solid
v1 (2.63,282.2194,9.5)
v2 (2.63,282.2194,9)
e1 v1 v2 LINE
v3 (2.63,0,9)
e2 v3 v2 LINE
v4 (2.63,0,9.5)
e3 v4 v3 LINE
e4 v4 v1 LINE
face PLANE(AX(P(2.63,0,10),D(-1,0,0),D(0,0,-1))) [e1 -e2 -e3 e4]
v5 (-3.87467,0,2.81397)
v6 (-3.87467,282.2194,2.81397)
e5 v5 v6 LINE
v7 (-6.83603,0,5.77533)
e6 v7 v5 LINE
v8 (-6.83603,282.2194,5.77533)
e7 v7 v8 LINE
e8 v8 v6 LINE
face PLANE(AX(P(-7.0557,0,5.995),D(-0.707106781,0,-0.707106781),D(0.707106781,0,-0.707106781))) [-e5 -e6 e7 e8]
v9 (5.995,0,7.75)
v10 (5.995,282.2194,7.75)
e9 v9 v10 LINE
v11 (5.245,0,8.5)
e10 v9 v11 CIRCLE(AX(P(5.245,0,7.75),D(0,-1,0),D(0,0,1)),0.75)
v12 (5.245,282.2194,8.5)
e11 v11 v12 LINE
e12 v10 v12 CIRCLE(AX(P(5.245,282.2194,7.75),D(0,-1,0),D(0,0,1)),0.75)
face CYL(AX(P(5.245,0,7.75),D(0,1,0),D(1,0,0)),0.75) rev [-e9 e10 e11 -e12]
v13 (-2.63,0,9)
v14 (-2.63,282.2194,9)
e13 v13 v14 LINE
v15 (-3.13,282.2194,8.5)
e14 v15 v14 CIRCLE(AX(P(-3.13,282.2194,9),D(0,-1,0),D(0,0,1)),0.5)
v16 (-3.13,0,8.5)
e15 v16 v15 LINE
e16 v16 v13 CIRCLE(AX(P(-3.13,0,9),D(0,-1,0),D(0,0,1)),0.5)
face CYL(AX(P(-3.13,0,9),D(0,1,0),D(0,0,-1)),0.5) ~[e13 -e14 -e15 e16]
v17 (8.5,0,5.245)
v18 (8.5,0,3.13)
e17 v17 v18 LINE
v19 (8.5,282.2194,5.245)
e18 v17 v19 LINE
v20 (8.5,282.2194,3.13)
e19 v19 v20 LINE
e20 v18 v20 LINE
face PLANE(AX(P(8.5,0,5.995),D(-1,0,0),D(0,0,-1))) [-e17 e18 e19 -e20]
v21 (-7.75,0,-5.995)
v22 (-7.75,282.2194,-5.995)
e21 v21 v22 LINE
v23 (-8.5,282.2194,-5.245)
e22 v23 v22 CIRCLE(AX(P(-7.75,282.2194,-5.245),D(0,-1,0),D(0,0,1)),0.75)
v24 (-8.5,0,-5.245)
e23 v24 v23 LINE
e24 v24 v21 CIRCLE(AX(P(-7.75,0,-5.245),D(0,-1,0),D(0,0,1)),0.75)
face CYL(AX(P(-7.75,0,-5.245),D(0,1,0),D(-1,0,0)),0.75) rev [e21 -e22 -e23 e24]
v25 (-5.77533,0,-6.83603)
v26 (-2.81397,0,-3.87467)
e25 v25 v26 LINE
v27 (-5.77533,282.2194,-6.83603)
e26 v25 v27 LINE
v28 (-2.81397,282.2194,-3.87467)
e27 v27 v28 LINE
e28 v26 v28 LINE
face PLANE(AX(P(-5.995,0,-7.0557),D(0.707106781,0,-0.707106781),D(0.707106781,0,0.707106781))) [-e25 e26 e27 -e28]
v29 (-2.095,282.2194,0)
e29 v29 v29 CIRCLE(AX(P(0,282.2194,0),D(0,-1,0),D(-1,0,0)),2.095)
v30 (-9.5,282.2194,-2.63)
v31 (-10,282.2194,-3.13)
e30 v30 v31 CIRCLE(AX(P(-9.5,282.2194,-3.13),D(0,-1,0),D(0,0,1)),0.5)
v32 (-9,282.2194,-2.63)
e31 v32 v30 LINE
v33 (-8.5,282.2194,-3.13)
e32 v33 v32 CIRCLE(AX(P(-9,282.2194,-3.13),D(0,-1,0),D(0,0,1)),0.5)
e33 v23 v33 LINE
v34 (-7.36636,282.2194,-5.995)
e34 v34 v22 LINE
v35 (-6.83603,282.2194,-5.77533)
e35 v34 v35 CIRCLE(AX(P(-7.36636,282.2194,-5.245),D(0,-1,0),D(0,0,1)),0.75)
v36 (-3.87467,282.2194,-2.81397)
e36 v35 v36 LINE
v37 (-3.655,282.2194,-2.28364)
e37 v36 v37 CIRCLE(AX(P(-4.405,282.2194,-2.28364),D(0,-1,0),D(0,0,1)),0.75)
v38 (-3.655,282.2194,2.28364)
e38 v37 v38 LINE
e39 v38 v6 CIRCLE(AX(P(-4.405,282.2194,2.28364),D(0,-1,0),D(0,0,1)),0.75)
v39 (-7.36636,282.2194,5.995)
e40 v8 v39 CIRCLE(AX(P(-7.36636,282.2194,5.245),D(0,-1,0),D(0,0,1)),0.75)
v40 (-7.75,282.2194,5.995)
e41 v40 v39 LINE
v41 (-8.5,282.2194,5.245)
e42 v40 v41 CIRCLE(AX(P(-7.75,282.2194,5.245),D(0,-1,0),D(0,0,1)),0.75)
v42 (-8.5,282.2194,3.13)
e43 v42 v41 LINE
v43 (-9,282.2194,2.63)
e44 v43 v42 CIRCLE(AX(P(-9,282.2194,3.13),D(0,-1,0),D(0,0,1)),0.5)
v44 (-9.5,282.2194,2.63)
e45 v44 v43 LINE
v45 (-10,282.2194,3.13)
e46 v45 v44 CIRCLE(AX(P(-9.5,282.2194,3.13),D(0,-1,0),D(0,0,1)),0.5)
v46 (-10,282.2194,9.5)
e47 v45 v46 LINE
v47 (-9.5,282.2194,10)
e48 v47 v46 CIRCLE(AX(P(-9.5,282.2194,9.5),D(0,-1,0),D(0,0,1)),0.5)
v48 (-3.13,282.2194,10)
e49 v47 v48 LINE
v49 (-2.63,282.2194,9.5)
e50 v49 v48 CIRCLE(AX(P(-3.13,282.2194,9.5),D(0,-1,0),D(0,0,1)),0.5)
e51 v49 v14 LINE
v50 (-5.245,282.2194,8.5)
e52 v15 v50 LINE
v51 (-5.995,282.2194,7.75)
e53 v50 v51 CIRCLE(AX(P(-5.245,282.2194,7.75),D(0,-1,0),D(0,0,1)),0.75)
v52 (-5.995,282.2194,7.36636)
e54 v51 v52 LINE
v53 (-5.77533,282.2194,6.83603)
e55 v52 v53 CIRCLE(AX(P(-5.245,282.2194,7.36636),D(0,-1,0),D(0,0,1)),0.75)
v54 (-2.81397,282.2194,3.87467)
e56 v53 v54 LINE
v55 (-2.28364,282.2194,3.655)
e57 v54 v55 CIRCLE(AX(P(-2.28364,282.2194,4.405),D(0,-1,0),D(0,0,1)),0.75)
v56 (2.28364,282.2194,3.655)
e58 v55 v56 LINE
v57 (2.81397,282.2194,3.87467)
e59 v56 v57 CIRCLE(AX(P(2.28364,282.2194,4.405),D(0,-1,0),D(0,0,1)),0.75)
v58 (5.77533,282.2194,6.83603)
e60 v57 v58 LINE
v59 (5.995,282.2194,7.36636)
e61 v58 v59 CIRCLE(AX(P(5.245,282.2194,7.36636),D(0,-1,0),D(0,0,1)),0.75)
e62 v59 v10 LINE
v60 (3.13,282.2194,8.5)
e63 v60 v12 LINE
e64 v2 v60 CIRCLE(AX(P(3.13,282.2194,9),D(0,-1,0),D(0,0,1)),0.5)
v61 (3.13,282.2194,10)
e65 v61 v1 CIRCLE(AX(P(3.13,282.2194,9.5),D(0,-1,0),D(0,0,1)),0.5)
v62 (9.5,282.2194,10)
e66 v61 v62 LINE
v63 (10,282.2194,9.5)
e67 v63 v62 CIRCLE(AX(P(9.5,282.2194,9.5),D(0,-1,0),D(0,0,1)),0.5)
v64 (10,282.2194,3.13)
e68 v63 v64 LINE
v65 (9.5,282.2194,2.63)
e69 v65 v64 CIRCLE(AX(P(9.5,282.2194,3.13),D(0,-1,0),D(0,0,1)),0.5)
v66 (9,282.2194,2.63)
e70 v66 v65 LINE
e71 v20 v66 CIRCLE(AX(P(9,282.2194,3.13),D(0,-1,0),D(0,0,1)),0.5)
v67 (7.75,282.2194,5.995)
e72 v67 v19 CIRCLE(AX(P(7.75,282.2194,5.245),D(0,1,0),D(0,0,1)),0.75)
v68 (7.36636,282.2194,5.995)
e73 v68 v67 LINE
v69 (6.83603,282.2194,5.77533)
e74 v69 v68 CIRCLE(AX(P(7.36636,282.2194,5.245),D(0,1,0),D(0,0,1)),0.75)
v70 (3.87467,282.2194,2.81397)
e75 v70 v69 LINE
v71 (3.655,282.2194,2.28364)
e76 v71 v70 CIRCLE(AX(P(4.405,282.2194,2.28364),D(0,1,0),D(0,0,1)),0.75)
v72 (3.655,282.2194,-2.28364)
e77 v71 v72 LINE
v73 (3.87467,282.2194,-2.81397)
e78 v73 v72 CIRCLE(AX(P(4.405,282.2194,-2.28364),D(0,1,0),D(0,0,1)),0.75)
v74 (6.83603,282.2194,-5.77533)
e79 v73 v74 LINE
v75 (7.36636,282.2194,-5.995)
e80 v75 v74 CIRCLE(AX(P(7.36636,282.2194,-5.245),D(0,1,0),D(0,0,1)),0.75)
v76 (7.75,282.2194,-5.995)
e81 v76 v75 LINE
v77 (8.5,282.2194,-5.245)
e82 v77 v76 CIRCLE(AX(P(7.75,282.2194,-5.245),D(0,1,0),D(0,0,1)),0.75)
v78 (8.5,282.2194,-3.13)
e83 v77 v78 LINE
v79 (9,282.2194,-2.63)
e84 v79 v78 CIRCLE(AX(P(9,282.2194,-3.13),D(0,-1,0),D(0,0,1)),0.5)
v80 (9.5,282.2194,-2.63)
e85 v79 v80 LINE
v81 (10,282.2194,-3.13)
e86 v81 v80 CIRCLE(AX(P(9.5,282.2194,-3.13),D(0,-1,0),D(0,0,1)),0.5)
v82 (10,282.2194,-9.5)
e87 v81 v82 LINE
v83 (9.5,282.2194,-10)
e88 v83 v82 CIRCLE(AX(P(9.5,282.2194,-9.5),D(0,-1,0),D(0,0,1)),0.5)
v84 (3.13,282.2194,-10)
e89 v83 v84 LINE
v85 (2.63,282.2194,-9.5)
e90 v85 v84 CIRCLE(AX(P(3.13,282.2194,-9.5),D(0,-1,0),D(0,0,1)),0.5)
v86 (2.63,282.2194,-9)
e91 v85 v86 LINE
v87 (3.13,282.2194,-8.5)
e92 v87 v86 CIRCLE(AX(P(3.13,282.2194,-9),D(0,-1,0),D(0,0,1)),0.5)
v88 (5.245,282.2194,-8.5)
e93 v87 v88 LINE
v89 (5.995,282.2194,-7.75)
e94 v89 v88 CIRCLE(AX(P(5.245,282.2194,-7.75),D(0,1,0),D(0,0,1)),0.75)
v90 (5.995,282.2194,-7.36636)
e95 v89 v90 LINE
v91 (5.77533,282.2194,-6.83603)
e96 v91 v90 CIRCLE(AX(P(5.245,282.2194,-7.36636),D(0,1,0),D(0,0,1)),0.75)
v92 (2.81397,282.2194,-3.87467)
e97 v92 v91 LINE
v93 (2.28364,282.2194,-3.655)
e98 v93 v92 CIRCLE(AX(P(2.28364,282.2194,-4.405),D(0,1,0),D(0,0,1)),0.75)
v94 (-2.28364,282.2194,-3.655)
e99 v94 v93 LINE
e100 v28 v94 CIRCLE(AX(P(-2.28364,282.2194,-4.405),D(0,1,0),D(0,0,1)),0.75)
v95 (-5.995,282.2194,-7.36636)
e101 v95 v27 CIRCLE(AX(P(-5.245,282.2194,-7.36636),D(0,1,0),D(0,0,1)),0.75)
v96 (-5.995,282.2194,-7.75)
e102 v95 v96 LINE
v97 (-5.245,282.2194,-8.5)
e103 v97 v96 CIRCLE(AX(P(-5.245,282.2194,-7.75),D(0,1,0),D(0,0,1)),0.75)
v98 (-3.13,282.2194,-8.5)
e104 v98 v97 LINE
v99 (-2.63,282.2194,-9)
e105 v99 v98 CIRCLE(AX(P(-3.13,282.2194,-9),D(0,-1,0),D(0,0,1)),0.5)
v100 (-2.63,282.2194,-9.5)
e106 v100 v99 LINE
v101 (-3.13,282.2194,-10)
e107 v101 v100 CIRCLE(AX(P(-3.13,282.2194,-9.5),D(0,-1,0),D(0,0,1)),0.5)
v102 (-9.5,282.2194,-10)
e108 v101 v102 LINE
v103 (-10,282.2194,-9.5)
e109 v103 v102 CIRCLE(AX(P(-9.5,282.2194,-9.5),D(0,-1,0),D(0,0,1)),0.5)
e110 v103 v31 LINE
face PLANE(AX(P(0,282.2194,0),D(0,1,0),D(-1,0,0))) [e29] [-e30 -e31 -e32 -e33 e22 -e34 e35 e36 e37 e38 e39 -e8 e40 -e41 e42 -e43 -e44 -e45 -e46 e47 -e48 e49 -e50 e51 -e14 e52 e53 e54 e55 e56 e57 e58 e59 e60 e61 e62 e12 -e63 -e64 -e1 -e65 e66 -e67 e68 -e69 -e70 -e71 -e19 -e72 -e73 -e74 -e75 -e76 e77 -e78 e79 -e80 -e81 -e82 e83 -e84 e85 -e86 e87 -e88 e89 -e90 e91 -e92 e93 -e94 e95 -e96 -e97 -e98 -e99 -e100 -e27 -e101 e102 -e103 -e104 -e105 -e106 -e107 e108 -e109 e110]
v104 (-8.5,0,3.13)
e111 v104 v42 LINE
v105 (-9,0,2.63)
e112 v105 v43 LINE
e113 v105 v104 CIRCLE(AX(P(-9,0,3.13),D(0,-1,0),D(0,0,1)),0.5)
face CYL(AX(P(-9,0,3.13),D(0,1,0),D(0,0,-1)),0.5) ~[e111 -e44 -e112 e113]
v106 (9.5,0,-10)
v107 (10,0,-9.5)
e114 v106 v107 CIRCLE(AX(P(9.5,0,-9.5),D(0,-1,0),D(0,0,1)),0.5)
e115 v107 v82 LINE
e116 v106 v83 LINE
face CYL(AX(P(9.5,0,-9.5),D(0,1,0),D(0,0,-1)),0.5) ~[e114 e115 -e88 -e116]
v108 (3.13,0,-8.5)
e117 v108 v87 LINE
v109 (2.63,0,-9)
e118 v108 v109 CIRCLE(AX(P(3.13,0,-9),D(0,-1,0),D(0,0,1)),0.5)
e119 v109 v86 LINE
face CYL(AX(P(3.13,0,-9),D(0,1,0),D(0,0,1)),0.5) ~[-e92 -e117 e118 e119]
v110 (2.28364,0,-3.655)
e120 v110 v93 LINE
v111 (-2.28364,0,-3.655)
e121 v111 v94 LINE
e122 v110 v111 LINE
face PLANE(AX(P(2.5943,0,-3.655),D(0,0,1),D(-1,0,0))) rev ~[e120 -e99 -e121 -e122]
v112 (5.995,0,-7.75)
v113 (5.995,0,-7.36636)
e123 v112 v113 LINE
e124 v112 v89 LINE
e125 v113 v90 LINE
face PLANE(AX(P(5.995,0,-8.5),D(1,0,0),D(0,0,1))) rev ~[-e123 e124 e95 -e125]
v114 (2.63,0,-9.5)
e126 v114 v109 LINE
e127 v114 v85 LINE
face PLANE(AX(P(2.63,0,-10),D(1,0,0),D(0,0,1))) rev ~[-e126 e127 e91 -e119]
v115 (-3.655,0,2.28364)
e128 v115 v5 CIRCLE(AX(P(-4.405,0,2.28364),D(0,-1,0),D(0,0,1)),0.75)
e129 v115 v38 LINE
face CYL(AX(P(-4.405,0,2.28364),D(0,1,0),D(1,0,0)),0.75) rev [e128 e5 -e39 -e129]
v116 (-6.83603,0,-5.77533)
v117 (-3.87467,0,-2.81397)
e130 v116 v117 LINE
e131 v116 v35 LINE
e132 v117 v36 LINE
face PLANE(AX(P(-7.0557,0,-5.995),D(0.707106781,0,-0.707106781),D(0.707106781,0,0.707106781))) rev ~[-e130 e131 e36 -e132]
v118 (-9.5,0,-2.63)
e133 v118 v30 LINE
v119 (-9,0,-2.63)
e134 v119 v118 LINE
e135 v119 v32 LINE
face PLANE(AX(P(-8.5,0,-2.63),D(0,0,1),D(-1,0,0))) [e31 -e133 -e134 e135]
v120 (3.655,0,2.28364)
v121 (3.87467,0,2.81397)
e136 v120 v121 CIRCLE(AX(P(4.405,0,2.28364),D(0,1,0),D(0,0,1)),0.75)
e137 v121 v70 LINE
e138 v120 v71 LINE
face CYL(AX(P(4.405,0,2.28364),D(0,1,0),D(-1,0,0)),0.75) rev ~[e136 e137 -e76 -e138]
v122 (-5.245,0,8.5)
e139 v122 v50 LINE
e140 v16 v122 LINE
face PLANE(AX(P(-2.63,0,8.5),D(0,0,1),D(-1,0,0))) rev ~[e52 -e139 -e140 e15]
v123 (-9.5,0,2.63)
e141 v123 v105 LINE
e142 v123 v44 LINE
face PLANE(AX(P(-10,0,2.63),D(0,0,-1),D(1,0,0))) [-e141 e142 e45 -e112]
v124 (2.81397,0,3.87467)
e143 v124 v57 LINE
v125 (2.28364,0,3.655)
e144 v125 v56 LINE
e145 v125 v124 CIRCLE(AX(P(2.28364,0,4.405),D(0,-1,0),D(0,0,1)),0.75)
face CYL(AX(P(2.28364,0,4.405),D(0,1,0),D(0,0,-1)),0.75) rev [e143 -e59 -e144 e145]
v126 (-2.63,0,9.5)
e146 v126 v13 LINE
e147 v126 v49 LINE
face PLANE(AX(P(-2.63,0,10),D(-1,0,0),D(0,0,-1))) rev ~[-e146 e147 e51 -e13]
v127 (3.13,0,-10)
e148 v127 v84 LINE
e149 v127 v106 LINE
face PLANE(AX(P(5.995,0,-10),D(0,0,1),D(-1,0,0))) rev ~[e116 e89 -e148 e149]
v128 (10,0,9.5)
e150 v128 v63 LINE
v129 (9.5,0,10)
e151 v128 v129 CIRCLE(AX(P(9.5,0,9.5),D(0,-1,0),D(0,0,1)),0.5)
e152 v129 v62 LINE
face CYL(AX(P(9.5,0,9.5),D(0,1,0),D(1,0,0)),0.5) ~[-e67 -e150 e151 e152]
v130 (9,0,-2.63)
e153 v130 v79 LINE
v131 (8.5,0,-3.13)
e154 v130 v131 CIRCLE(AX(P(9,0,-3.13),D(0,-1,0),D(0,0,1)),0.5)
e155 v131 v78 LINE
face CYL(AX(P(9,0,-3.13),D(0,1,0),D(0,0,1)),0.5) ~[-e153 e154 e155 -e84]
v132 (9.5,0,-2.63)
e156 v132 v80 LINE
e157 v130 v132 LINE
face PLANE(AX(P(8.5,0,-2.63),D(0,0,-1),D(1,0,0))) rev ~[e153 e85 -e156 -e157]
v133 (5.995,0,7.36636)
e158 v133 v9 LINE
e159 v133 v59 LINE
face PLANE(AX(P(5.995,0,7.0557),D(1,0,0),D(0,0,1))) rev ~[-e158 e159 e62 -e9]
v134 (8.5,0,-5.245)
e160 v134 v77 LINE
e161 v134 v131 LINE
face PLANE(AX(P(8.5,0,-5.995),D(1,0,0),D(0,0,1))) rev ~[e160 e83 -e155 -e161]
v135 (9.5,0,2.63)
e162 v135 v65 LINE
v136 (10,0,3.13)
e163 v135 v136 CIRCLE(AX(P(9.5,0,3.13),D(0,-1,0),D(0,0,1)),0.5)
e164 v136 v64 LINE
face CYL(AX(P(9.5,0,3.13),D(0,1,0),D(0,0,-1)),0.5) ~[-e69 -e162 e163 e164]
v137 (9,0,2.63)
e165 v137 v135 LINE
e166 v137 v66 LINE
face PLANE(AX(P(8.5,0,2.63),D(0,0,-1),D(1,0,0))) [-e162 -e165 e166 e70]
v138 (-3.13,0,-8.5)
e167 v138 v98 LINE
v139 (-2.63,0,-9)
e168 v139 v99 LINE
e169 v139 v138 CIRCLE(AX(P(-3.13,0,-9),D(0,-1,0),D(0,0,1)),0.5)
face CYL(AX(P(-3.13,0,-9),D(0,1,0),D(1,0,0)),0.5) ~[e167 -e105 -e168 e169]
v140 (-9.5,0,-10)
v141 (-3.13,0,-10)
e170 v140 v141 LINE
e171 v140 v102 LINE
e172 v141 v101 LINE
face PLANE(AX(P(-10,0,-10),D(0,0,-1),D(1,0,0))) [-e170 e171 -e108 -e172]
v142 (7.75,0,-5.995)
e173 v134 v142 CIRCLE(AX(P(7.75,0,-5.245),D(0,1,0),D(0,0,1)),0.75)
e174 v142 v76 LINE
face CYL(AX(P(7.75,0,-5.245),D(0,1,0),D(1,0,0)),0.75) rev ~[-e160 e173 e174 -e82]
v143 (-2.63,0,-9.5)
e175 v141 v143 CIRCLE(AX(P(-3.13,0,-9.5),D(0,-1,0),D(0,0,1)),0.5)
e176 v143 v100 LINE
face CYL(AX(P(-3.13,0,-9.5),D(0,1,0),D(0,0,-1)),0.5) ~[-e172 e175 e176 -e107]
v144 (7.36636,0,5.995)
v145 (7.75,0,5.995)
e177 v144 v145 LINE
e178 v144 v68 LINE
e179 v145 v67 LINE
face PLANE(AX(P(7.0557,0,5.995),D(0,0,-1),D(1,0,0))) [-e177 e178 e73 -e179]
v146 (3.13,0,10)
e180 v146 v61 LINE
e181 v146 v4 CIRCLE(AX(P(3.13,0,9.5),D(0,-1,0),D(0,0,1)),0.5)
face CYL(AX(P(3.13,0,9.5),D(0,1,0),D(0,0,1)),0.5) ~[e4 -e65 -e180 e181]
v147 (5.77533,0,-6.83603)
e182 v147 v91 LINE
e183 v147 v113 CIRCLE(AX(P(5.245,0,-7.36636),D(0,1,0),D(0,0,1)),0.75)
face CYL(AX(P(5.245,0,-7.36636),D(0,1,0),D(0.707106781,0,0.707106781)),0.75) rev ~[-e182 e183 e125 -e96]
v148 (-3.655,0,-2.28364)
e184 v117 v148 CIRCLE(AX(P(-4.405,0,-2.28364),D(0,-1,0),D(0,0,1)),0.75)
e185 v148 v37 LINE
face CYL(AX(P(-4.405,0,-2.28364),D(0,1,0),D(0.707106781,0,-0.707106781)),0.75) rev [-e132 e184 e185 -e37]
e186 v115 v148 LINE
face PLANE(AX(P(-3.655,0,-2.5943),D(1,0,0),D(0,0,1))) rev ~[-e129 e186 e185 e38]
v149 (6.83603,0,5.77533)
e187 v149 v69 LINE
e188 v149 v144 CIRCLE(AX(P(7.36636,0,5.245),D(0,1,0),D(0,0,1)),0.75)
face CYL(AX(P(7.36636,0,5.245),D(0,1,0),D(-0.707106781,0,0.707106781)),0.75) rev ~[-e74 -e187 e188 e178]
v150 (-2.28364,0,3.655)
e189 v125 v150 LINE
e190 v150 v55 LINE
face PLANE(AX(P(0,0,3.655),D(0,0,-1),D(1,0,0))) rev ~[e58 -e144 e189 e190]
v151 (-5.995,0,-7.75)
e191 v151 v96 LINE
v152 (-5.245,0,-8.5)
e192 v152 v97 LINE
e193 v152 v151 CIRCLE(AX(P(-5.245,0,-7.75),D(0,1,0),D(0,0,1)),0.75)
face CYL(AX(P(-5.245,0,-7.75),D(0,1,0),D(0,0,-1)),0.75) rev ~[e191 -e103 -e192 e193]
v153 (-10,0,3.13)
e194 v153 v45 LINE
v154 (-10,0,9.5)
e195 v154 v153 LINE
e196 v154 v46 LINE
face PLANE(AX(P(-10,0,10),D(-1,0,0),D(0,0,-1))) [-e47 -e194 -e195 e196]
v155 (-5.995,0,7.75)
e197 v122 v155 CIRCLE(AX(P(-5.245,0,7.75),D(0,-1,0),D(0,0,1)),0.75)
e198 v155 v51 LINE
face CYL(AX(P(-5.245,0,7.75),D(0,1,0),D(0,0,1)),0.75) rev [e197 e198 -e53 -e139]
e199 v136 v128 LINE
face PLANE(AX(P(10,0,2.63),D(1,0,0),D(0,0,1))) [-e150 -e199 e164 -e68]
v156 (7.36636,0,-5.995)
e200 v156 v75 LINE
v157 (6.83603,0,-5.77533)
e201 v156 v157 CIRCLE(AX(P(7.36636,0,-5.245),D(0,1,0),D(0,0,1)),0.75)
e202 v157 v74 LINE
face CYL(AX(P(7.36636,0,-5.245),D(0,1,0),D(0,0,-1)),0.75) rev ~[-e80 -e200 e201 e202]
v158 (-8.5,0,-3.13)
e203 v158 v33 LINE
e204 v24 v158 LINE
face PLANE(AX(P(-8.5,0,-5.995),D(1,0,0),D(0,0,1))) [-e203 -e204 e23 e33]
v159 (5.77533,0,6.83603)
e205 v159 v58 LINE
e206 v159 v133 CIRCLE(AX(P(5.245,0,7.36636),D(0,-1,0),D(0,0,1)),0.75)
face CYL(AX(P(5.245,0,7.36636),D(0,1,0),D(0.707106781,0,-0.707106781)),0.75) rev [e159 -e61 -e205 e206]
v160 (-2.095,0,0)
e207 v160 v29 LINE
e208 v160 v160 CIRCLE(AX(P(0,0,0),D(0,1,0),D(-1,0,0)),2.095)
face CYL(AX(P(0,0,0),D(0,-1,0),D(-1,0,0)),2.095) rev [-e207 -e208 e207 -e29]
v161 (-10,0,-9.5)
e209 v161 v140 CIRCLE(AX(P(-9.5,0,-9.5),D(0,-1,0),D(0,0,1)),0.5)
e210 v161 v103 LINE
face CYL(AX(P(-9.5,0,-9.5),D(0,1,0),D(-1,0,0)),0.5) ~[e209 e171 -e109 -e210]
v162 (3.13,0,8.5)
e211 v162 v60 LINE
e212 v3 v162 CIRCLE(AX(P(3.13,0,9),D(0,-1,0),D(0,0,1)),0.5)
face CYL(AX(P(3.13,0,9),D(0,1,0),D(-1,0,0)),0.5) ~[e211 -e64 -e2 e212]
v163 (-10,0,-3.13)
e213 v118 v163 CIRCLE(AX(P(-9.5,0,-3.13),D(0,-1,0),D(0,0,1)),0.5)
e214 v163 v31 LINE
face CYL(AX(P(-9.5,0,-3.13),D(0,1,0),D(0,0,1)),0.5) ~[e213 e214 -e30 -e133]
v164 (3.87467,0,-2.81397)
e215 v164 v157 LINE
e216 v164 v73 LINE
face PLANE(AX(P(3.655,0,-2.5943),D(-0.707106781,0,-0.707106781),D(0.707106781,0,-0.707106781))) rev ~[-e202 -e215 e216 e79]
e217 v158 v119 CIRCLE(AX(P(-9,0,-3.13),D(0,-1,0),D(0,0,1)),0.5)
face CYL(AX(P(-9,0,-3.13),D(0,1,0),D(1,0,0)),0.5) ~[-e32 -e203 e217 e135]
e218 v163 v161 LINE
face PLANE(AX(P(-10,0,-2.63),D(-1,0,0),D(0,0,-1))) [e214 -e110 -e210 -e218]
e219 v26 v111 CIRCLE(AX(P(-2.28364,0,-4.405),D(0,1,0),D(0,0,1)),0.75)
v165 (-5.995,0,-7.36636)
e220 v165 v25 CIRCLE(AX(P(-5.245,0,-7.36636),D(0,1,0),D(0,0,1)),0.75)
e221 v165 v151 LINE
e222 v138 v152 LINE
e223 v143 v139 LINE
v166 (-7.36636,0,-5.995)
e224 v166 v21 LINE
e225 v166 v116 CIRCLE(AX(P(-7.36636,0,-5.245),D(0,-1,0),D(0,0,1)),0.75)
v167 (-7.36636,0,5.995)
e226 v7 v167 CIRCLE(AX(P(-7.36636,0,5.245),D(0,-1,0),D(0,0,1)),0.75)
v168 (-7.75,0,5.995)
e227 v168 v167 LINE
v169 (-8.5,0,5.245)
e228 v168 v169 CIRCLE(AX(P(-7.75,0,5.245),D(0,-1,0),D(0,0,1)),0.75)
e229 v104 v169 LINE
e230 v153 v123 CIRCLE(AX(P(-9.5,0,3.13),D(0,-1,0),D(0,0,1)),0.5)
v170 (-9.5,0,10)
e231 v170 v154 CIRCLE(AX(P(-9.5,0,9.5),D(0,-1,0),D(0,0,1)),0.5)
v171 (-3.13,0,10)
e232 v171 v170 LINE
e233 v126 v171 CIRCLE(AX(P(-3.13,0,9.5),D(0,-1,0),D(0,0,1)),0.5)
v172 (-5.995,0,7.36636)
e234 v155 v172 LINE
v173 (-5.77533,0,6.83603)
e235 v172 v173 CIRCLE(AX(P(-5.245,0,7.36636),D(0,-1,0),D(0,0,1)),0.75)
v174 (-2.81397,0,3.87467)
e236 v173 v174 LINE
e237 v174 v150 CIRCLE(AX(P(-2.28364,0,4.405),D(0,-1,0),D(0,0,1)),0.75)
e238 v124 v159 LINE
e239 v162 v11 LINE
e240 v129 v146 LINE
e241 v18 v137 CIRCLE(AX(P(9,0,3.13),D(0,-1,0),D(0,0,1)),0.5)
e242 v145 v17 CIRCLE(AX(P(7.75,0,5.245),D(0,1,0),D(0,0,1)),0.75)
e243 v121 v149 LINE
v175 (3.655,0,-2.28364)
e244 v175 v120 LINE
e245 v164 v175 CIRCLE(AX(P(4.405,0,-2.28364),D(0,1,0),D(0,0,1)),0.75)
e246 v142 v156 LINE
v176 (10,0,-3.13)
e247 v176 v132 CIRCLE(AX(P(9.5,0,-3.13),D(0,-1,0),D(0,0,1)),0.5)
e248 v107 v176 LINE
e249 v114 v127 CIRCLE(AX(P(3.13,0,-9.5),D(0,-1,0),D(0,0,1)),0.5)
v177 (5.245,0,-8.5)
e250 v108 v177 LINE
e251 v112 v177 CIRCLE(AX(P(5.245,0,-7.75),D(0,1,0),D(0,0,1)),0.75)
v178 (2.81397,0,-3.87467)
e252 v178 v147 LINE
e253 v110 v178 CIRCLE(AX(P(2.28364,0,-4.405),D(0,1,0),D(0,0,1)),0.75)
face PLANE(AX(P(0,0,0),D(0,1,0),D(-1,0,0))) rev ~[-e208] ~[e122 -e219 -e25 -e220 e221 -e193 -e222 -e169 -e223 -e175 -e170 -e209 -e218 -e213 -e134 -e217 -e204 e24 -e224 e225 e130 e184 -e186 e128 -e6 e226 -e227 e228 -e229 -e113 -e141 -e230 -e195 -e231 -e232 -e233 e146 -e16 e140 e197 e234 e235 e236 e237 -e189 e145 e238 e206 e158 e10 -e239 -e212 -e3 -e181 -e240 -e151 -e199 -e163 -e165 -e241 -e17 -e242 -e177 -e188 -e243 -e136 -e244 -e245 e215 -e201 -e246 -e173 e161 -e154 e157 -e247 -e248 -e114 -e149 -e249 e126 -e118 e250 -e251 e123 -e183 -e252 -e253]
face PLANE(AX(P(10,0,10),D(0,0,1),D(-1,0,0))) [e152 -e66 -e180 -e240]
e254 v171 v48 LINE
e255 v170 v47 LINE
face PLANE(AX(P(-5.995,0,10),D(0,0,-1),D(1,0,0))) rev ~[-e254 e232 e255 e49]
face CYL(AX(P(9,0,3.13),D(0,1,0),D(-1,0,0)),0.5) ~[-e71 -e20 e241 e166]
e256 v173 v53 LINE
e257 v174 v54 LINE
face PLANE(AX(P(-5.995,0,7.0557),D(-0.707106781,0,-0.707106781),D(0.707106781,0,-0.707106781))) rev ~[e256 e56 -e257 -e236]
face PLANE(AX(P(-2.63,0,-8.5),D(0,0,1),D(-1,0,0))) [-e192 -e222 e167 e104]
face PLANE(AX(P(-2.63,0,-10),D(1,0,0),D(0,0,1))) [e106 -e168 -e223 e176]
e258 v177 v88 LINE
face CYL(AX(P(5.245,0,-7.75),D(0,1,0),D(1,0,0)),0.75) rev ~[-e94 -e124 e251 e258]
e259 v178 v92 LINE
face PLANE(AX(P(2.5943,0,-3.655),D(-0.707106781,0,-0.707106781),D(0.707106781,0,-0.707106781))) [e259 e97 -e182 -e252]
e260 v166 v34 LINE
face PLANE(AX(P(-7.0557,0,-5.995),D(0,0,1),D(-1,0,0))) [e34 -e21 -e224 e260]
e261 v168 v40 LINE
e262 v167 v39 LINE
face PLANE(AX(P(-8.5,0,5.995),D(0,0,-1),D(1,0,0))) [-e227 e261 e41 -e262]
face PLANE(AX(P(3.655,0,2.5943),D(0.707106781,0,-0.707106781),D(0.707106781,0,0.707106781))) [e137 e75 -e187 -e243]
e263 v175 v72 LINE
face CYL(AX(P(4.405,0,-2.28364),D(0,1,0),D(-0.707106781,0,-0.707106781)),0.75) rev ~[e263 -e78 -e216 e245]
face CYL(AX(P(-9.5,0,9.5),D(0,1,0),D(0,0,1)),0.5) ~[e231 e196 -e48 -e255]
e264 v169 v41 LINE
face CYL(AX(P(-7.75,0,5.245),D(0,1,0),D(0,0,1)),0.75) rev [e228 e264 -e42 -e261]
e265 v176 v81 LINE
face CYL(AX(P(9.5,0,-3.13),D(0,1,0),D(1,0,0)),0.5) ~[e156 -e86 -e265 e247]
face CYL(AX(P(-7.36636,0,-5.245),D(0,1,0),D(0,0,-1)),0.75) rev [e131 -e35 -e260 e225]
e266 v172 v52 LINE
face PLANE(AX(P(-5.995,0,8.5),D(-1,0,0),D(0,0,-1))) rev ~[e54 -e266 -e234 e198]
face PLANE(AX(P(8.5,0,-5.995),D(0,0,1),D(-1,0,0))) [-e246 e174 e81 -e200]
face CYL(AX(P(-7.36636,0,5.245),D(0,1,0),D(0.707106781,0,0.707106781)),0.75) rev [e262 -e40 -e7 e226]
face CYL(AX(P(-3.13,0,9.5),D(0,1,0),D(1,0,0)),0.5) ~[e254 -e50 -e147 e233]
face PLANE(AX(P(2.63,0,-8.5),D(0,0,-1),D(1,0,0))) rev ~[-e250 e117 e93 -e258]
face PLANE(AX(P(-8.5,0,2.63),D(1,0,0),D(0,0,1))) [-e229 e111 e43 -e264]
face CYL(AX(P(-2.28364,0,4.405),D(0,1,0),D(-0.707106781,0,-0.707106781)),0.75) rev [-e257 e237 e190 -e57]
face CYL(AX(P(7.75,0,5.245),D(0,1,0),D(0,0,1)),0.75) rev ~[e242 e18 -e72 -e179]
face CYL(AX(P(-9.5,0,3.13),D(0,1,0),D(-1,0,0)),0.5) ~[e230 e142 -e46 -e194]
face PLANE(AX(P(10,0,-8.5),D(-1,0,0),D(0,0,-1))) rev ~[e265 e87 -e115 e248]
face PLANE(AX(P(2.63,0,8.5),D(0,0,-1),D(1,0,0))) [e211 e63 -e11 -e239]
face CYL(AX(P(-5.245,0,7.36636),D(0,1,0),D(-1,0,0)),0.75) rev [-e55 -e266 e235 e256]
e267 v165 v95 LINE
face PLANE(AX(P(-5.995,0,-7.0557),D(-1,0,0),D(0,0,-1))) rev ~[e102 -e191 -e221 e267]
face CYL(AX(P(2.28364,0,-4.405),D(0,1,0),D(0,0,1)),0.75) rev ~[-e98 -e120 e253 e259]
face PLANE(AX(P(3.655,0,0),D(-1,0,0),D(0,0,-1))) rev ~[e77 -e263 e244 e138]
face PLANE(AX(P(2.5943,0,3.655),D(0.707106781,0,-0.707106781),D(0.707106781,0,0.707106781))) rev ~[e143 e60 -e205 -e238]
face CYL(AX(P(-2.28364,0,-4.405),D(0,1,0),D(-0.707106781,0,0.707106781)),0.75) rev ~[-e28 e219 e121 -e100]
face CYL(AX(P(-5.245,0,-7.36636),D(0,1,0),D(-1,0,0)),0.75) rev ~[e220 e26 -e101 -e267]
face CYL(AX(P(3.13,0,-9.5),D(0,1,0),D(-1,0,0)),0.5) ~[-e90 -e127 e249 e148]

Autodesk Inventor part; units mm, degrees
ref_plane "YZ Plane" through (0, 0, 0) normal (1, 0, 0) x (0, 1, 0)
ref_plane "XZ Plane" through (0, 0, 0) normal (0, 1, 0) x (-1, 0, 0)
ref_plane "XY Plane" through (0, 0, 0) normal (0, 0, 1) x (1, 0, 0)
sketch "Sketch1" plane through (0, 0, 0) normal (0, 1, 0) x (-1, 0, 0)
  line L0 (0, -14) -> (0, 14) projected
  line L1 (-14, 0) -> (14, 0) projected
  line L2 (14, 0) -> (-14, 0) projected
  line L3 (0, -14) -> (0, 14) projected
  line L4 (2.5943, 3.655) -> (-2.5943, 3.655)
  line L5 (-3.655, 2.5943) -> (-3.655, -2.5943)
  line L6 (-2.5943, -3.655) -> (2.5943, -3.655)
  line L7 (3.655, -2.5943) -> (3.655, 2.5943)
  line L8 (-3.655, 3.655) -> (3.655, -3.655) construction
  line L9 (10, 10) -> (10, 2.63)
  line L10 (10, 2.63) -> (8.5, 2.63)
  line L11 (10, 10) -> (2.63, 10)
  line L12 (2.63, 10) -> (2.63, 8.5)
  line L13 (-10, 10) -> (-2.63, 10)
  line L14 (-2.63, 10) -> (-2.63, 8.5)
  line L15 (-10, 8.5) -> (-10, 10)
  line L16 (-10, 10) -> (-8.5, 10)
  line L17 (-8.5, 2.63) -> (-10, 2.63)
  line L18 (-10, 2.63) -> (-10, 10)
  line L19 (-10, -10) -> (-8.5, -10)
  line L20 (-8.5, -2.63) -> (-10, -2.63)
  line L21 (-10, -2.63) -> (-10, -10)
  line L22 (-10, -10) -> (-2.63, -10)
  line L23 (-2.63, -10) -> (-2.63, -8.5)
  line L24 (-10, -8.5) -> (-10, -10)
  line L25 (10, -10) -> (8.5, -10)
  line L26 (8.5, -2.63) -> (10, -2.63)
  line L27 (10, -2.63) -> (10, -10)
  line L28 (10, -10) -> (2.63, -10)
  line L29 (2.63, -10) -> (2.63, -8.5)
  line L30 (10, -8.5) -> (10, -10)
  circle A0 centre (0, 0) radius 2.095
  line L31 (5.995, -10) -> (2.63, -10)
  line L32 (-2.63, -10) -> (-5.995, -10)
  line L33 (10, -10) -> (2.63, -10)
  line L34 (-2.63, -10) -> (-10, -10)
  line L35 (10, -5.995) -> (10, -2.63)
  line L36 (10, 2.63) -> (10, 5.995)
  line L37 (10, 10) -> (10, 2.63)
  line L38 (10, -2.63) -> (10, -10)
  line L39 (-5.995, 10) -> (-2.63, 10)
  line L40 (2.63, 10) -> (5.995, 10)
  line L41 (-10, 10) -> (-2.63, 10)
  line L42 (2.63, 10) -> (10, 10)
  line L43 (-10, 5.995) -> (-10, 2.63)
  line L44 (-10, -2.63) -> (-10, -5.995)
  line L45 (-10, -10) -> (-10, -2.63)
  line L46 (-10, 2.63) -> (-10, 10)
  line L47 (-2.63, -8.5) -> (-5.995, -8.5)
  line L48 (-8.5, -5.995) -> (-8.5, -2.63)
  line L49 (-8.5, -5.995) -> (-7.0557, -5.995)
  line L50 (-5.995, -8.5) -> (-5.995, -7.0557)
  line L51 (-5.995, 7.0557) -> (-5.995, 8.5)
  line L52 (2.63, 8.5) -> (5.995, 8.5)
  line L53 (8.5, 2.63) -> (8.5, 5.995)
  line L54 (8.5, 5.995) -> (7.0557, 5.995)
  line L55 (5.995, 8.5) -> (5.995, 7.0557)
  line L56 (2.63, -8.5) -> (5.995, -8.5)
  line L57 (9.5607, -8.5) -> (10, -8.5)
  line L58 (8.5, -10) -> (8.5, -9.5607)
  line L59 (8.5, -5.995) -> (8.5, -2.63)
  line L60 (7.0557, -5.995) -> (8.5, -5.995)
  line L61 (5.995, -7.0557) -> (5.995, -8.5)
  line L62 (3.655, 3.655) -> (-0.5303, -0.5303) construction
  line L63 (-1.4814, -1.4814) -> (-3.655, -3.655) construction
  line L64 (-8.5, 10) -> (-8.5, 9.5607)
  line L65 (-8.5, 5.995) -> (-8.5, 2.63)
  line L66 (-2.63, 8.5) -> (-5.995, 8.5)
  line L67 (-9.5607, 8.5) -> (-10, 8.5)
  line L68 (-7.0557, 5.995) -> (-8.5, 5.995)
  line L69 (-3.655, 2.5943) -> (-7.0557, 5.995)
  line L70 (-2.5943, 3.655) -> (-5.995, 7.0557)
  line L71 (5.995, 7.0557) -> (2.5943, 3.655)
  line L72 (7.0557, 5.995) -> (3.655, 2.5943)
  line L73 (7.0557, -5.995) -> (3.655, -2.5943)
  line L74 (5.995, -7.0557) -> (2.5943, -3.655)
  line L75 (-2.5943, -3.655) -> (-5.995, -7.0557)
  line L76 (-3.655, -2.5943) -> (-7.0557, -5.995)
  dimension "d26" = 4.19
  dimension "d0" = 20
  dimension "d1" = 20
  dimension "d2" = 7.31
  dimension "d3" = 7.31
  dimension "d4" = 20
  dimension "d5" = 11.99
  dimension "d6" = 11.99
  dimension "d11" = 7.37
  dimension "d12" = 1.5
  dimension "d13" = 7.37
  dimension "d14" = 1.5
  dimension "d15" = 7.37
  dimension "d16" = 1.5
  dimension "d17" = 7.37
  dimension "d18" = 1.5
  dimension "d19" = 7.37
  dimension "d20" = 7.37
  dimension "d21" = 1.5
  dimension "d22" = 1.5
  dimension "d23" = 7.37
  dimension "d24" = 7.37
  dimension "d25" = 1.5
extrude "Extrusion1" add sketch "Sketch1" along normal blind 282.2194 contours L6 L75 L50 L47 L23 L22 L19 L21 L20 L48 L49 L76 L5 L1 A0 L0 | L0 A0 L1 L7 L73 L60 L59 L26 L27 L25 L28 L29 L56 L61 L74 L6 | L1 L5 L69 L68 L65 L17 L18 L15 L13 L14 L66 L51 L70 L4 L0 A0 | A0 L0 L4 L71 L55 L52 L12 L11 L9 L10 L53 L54 L72 L7 L1
fillet "Fillet1" radius 0.5 20 edges at (10, 141.1097, 10) (2.63, 141.1097, 10) (-2.63, 141.1097, 10) (-2.63, 141.1097, 8.5) (10, 141.1097, 2.63) (8.5, 141.1097, 2.63) (10, 141.1097, -2.63) (8.5, 141.1097, -2.63) (10, 141.1097, -10) (2.63, 141.1097, -8.5) (-2.63, 141.1097, -10) (-2.63, 141.1097, -8.5) (2.63, 141.1097, -10) (-10, 141.1097, -10) (-8.5, 141.1097, -2.63) (-10, 141.1097, -2.63) (-8.5, 141.1097, 2.63) (-10, 141.1097, 2.63) (-10, 141.1097, 10) (2.63, 141.1097, 8.5)
fillet "Fillet2" radius 0.75 24 edges at (-7.0557, 141.1097, 5.995) (-3.655, 141.1097, 2.5943) (-8.5, 141.1097, -5.995) (-7.0557, 141.1097, -5.995) (-5.995, 141.1097, -8.5) (3.655, 141.1097, -2.5943) (7.0557, 141.1097, -5.995) (-2.5943, 141.1097, 3.655) (-5.995, 141.1097, 7.0557) (3.655, 141.1097, 2.5943) (7.0557, 141.1097, 5.995) (8.5, 141.1097, 5.995) (8.5, 141.1097, -5.995) (2.5943, 141.1097, 3.655) (5.995, 141.1097, 7.0557) (5.995, 141.1097, 8.5) (-5.995, 141.1097, 8.5) (-8.5, 141.1097, 5.995) (2.5943, 141.1097, -3.655) (5.995, 141.1097, -7.0557) (5.995, 141.1097, -8.5) (-5.995, 141.1097, -7.0557) (-2.5943, 141.1097, -3.655) (-3.655, 141.1097, -2.5943)
properties part number "proWildStangin"
